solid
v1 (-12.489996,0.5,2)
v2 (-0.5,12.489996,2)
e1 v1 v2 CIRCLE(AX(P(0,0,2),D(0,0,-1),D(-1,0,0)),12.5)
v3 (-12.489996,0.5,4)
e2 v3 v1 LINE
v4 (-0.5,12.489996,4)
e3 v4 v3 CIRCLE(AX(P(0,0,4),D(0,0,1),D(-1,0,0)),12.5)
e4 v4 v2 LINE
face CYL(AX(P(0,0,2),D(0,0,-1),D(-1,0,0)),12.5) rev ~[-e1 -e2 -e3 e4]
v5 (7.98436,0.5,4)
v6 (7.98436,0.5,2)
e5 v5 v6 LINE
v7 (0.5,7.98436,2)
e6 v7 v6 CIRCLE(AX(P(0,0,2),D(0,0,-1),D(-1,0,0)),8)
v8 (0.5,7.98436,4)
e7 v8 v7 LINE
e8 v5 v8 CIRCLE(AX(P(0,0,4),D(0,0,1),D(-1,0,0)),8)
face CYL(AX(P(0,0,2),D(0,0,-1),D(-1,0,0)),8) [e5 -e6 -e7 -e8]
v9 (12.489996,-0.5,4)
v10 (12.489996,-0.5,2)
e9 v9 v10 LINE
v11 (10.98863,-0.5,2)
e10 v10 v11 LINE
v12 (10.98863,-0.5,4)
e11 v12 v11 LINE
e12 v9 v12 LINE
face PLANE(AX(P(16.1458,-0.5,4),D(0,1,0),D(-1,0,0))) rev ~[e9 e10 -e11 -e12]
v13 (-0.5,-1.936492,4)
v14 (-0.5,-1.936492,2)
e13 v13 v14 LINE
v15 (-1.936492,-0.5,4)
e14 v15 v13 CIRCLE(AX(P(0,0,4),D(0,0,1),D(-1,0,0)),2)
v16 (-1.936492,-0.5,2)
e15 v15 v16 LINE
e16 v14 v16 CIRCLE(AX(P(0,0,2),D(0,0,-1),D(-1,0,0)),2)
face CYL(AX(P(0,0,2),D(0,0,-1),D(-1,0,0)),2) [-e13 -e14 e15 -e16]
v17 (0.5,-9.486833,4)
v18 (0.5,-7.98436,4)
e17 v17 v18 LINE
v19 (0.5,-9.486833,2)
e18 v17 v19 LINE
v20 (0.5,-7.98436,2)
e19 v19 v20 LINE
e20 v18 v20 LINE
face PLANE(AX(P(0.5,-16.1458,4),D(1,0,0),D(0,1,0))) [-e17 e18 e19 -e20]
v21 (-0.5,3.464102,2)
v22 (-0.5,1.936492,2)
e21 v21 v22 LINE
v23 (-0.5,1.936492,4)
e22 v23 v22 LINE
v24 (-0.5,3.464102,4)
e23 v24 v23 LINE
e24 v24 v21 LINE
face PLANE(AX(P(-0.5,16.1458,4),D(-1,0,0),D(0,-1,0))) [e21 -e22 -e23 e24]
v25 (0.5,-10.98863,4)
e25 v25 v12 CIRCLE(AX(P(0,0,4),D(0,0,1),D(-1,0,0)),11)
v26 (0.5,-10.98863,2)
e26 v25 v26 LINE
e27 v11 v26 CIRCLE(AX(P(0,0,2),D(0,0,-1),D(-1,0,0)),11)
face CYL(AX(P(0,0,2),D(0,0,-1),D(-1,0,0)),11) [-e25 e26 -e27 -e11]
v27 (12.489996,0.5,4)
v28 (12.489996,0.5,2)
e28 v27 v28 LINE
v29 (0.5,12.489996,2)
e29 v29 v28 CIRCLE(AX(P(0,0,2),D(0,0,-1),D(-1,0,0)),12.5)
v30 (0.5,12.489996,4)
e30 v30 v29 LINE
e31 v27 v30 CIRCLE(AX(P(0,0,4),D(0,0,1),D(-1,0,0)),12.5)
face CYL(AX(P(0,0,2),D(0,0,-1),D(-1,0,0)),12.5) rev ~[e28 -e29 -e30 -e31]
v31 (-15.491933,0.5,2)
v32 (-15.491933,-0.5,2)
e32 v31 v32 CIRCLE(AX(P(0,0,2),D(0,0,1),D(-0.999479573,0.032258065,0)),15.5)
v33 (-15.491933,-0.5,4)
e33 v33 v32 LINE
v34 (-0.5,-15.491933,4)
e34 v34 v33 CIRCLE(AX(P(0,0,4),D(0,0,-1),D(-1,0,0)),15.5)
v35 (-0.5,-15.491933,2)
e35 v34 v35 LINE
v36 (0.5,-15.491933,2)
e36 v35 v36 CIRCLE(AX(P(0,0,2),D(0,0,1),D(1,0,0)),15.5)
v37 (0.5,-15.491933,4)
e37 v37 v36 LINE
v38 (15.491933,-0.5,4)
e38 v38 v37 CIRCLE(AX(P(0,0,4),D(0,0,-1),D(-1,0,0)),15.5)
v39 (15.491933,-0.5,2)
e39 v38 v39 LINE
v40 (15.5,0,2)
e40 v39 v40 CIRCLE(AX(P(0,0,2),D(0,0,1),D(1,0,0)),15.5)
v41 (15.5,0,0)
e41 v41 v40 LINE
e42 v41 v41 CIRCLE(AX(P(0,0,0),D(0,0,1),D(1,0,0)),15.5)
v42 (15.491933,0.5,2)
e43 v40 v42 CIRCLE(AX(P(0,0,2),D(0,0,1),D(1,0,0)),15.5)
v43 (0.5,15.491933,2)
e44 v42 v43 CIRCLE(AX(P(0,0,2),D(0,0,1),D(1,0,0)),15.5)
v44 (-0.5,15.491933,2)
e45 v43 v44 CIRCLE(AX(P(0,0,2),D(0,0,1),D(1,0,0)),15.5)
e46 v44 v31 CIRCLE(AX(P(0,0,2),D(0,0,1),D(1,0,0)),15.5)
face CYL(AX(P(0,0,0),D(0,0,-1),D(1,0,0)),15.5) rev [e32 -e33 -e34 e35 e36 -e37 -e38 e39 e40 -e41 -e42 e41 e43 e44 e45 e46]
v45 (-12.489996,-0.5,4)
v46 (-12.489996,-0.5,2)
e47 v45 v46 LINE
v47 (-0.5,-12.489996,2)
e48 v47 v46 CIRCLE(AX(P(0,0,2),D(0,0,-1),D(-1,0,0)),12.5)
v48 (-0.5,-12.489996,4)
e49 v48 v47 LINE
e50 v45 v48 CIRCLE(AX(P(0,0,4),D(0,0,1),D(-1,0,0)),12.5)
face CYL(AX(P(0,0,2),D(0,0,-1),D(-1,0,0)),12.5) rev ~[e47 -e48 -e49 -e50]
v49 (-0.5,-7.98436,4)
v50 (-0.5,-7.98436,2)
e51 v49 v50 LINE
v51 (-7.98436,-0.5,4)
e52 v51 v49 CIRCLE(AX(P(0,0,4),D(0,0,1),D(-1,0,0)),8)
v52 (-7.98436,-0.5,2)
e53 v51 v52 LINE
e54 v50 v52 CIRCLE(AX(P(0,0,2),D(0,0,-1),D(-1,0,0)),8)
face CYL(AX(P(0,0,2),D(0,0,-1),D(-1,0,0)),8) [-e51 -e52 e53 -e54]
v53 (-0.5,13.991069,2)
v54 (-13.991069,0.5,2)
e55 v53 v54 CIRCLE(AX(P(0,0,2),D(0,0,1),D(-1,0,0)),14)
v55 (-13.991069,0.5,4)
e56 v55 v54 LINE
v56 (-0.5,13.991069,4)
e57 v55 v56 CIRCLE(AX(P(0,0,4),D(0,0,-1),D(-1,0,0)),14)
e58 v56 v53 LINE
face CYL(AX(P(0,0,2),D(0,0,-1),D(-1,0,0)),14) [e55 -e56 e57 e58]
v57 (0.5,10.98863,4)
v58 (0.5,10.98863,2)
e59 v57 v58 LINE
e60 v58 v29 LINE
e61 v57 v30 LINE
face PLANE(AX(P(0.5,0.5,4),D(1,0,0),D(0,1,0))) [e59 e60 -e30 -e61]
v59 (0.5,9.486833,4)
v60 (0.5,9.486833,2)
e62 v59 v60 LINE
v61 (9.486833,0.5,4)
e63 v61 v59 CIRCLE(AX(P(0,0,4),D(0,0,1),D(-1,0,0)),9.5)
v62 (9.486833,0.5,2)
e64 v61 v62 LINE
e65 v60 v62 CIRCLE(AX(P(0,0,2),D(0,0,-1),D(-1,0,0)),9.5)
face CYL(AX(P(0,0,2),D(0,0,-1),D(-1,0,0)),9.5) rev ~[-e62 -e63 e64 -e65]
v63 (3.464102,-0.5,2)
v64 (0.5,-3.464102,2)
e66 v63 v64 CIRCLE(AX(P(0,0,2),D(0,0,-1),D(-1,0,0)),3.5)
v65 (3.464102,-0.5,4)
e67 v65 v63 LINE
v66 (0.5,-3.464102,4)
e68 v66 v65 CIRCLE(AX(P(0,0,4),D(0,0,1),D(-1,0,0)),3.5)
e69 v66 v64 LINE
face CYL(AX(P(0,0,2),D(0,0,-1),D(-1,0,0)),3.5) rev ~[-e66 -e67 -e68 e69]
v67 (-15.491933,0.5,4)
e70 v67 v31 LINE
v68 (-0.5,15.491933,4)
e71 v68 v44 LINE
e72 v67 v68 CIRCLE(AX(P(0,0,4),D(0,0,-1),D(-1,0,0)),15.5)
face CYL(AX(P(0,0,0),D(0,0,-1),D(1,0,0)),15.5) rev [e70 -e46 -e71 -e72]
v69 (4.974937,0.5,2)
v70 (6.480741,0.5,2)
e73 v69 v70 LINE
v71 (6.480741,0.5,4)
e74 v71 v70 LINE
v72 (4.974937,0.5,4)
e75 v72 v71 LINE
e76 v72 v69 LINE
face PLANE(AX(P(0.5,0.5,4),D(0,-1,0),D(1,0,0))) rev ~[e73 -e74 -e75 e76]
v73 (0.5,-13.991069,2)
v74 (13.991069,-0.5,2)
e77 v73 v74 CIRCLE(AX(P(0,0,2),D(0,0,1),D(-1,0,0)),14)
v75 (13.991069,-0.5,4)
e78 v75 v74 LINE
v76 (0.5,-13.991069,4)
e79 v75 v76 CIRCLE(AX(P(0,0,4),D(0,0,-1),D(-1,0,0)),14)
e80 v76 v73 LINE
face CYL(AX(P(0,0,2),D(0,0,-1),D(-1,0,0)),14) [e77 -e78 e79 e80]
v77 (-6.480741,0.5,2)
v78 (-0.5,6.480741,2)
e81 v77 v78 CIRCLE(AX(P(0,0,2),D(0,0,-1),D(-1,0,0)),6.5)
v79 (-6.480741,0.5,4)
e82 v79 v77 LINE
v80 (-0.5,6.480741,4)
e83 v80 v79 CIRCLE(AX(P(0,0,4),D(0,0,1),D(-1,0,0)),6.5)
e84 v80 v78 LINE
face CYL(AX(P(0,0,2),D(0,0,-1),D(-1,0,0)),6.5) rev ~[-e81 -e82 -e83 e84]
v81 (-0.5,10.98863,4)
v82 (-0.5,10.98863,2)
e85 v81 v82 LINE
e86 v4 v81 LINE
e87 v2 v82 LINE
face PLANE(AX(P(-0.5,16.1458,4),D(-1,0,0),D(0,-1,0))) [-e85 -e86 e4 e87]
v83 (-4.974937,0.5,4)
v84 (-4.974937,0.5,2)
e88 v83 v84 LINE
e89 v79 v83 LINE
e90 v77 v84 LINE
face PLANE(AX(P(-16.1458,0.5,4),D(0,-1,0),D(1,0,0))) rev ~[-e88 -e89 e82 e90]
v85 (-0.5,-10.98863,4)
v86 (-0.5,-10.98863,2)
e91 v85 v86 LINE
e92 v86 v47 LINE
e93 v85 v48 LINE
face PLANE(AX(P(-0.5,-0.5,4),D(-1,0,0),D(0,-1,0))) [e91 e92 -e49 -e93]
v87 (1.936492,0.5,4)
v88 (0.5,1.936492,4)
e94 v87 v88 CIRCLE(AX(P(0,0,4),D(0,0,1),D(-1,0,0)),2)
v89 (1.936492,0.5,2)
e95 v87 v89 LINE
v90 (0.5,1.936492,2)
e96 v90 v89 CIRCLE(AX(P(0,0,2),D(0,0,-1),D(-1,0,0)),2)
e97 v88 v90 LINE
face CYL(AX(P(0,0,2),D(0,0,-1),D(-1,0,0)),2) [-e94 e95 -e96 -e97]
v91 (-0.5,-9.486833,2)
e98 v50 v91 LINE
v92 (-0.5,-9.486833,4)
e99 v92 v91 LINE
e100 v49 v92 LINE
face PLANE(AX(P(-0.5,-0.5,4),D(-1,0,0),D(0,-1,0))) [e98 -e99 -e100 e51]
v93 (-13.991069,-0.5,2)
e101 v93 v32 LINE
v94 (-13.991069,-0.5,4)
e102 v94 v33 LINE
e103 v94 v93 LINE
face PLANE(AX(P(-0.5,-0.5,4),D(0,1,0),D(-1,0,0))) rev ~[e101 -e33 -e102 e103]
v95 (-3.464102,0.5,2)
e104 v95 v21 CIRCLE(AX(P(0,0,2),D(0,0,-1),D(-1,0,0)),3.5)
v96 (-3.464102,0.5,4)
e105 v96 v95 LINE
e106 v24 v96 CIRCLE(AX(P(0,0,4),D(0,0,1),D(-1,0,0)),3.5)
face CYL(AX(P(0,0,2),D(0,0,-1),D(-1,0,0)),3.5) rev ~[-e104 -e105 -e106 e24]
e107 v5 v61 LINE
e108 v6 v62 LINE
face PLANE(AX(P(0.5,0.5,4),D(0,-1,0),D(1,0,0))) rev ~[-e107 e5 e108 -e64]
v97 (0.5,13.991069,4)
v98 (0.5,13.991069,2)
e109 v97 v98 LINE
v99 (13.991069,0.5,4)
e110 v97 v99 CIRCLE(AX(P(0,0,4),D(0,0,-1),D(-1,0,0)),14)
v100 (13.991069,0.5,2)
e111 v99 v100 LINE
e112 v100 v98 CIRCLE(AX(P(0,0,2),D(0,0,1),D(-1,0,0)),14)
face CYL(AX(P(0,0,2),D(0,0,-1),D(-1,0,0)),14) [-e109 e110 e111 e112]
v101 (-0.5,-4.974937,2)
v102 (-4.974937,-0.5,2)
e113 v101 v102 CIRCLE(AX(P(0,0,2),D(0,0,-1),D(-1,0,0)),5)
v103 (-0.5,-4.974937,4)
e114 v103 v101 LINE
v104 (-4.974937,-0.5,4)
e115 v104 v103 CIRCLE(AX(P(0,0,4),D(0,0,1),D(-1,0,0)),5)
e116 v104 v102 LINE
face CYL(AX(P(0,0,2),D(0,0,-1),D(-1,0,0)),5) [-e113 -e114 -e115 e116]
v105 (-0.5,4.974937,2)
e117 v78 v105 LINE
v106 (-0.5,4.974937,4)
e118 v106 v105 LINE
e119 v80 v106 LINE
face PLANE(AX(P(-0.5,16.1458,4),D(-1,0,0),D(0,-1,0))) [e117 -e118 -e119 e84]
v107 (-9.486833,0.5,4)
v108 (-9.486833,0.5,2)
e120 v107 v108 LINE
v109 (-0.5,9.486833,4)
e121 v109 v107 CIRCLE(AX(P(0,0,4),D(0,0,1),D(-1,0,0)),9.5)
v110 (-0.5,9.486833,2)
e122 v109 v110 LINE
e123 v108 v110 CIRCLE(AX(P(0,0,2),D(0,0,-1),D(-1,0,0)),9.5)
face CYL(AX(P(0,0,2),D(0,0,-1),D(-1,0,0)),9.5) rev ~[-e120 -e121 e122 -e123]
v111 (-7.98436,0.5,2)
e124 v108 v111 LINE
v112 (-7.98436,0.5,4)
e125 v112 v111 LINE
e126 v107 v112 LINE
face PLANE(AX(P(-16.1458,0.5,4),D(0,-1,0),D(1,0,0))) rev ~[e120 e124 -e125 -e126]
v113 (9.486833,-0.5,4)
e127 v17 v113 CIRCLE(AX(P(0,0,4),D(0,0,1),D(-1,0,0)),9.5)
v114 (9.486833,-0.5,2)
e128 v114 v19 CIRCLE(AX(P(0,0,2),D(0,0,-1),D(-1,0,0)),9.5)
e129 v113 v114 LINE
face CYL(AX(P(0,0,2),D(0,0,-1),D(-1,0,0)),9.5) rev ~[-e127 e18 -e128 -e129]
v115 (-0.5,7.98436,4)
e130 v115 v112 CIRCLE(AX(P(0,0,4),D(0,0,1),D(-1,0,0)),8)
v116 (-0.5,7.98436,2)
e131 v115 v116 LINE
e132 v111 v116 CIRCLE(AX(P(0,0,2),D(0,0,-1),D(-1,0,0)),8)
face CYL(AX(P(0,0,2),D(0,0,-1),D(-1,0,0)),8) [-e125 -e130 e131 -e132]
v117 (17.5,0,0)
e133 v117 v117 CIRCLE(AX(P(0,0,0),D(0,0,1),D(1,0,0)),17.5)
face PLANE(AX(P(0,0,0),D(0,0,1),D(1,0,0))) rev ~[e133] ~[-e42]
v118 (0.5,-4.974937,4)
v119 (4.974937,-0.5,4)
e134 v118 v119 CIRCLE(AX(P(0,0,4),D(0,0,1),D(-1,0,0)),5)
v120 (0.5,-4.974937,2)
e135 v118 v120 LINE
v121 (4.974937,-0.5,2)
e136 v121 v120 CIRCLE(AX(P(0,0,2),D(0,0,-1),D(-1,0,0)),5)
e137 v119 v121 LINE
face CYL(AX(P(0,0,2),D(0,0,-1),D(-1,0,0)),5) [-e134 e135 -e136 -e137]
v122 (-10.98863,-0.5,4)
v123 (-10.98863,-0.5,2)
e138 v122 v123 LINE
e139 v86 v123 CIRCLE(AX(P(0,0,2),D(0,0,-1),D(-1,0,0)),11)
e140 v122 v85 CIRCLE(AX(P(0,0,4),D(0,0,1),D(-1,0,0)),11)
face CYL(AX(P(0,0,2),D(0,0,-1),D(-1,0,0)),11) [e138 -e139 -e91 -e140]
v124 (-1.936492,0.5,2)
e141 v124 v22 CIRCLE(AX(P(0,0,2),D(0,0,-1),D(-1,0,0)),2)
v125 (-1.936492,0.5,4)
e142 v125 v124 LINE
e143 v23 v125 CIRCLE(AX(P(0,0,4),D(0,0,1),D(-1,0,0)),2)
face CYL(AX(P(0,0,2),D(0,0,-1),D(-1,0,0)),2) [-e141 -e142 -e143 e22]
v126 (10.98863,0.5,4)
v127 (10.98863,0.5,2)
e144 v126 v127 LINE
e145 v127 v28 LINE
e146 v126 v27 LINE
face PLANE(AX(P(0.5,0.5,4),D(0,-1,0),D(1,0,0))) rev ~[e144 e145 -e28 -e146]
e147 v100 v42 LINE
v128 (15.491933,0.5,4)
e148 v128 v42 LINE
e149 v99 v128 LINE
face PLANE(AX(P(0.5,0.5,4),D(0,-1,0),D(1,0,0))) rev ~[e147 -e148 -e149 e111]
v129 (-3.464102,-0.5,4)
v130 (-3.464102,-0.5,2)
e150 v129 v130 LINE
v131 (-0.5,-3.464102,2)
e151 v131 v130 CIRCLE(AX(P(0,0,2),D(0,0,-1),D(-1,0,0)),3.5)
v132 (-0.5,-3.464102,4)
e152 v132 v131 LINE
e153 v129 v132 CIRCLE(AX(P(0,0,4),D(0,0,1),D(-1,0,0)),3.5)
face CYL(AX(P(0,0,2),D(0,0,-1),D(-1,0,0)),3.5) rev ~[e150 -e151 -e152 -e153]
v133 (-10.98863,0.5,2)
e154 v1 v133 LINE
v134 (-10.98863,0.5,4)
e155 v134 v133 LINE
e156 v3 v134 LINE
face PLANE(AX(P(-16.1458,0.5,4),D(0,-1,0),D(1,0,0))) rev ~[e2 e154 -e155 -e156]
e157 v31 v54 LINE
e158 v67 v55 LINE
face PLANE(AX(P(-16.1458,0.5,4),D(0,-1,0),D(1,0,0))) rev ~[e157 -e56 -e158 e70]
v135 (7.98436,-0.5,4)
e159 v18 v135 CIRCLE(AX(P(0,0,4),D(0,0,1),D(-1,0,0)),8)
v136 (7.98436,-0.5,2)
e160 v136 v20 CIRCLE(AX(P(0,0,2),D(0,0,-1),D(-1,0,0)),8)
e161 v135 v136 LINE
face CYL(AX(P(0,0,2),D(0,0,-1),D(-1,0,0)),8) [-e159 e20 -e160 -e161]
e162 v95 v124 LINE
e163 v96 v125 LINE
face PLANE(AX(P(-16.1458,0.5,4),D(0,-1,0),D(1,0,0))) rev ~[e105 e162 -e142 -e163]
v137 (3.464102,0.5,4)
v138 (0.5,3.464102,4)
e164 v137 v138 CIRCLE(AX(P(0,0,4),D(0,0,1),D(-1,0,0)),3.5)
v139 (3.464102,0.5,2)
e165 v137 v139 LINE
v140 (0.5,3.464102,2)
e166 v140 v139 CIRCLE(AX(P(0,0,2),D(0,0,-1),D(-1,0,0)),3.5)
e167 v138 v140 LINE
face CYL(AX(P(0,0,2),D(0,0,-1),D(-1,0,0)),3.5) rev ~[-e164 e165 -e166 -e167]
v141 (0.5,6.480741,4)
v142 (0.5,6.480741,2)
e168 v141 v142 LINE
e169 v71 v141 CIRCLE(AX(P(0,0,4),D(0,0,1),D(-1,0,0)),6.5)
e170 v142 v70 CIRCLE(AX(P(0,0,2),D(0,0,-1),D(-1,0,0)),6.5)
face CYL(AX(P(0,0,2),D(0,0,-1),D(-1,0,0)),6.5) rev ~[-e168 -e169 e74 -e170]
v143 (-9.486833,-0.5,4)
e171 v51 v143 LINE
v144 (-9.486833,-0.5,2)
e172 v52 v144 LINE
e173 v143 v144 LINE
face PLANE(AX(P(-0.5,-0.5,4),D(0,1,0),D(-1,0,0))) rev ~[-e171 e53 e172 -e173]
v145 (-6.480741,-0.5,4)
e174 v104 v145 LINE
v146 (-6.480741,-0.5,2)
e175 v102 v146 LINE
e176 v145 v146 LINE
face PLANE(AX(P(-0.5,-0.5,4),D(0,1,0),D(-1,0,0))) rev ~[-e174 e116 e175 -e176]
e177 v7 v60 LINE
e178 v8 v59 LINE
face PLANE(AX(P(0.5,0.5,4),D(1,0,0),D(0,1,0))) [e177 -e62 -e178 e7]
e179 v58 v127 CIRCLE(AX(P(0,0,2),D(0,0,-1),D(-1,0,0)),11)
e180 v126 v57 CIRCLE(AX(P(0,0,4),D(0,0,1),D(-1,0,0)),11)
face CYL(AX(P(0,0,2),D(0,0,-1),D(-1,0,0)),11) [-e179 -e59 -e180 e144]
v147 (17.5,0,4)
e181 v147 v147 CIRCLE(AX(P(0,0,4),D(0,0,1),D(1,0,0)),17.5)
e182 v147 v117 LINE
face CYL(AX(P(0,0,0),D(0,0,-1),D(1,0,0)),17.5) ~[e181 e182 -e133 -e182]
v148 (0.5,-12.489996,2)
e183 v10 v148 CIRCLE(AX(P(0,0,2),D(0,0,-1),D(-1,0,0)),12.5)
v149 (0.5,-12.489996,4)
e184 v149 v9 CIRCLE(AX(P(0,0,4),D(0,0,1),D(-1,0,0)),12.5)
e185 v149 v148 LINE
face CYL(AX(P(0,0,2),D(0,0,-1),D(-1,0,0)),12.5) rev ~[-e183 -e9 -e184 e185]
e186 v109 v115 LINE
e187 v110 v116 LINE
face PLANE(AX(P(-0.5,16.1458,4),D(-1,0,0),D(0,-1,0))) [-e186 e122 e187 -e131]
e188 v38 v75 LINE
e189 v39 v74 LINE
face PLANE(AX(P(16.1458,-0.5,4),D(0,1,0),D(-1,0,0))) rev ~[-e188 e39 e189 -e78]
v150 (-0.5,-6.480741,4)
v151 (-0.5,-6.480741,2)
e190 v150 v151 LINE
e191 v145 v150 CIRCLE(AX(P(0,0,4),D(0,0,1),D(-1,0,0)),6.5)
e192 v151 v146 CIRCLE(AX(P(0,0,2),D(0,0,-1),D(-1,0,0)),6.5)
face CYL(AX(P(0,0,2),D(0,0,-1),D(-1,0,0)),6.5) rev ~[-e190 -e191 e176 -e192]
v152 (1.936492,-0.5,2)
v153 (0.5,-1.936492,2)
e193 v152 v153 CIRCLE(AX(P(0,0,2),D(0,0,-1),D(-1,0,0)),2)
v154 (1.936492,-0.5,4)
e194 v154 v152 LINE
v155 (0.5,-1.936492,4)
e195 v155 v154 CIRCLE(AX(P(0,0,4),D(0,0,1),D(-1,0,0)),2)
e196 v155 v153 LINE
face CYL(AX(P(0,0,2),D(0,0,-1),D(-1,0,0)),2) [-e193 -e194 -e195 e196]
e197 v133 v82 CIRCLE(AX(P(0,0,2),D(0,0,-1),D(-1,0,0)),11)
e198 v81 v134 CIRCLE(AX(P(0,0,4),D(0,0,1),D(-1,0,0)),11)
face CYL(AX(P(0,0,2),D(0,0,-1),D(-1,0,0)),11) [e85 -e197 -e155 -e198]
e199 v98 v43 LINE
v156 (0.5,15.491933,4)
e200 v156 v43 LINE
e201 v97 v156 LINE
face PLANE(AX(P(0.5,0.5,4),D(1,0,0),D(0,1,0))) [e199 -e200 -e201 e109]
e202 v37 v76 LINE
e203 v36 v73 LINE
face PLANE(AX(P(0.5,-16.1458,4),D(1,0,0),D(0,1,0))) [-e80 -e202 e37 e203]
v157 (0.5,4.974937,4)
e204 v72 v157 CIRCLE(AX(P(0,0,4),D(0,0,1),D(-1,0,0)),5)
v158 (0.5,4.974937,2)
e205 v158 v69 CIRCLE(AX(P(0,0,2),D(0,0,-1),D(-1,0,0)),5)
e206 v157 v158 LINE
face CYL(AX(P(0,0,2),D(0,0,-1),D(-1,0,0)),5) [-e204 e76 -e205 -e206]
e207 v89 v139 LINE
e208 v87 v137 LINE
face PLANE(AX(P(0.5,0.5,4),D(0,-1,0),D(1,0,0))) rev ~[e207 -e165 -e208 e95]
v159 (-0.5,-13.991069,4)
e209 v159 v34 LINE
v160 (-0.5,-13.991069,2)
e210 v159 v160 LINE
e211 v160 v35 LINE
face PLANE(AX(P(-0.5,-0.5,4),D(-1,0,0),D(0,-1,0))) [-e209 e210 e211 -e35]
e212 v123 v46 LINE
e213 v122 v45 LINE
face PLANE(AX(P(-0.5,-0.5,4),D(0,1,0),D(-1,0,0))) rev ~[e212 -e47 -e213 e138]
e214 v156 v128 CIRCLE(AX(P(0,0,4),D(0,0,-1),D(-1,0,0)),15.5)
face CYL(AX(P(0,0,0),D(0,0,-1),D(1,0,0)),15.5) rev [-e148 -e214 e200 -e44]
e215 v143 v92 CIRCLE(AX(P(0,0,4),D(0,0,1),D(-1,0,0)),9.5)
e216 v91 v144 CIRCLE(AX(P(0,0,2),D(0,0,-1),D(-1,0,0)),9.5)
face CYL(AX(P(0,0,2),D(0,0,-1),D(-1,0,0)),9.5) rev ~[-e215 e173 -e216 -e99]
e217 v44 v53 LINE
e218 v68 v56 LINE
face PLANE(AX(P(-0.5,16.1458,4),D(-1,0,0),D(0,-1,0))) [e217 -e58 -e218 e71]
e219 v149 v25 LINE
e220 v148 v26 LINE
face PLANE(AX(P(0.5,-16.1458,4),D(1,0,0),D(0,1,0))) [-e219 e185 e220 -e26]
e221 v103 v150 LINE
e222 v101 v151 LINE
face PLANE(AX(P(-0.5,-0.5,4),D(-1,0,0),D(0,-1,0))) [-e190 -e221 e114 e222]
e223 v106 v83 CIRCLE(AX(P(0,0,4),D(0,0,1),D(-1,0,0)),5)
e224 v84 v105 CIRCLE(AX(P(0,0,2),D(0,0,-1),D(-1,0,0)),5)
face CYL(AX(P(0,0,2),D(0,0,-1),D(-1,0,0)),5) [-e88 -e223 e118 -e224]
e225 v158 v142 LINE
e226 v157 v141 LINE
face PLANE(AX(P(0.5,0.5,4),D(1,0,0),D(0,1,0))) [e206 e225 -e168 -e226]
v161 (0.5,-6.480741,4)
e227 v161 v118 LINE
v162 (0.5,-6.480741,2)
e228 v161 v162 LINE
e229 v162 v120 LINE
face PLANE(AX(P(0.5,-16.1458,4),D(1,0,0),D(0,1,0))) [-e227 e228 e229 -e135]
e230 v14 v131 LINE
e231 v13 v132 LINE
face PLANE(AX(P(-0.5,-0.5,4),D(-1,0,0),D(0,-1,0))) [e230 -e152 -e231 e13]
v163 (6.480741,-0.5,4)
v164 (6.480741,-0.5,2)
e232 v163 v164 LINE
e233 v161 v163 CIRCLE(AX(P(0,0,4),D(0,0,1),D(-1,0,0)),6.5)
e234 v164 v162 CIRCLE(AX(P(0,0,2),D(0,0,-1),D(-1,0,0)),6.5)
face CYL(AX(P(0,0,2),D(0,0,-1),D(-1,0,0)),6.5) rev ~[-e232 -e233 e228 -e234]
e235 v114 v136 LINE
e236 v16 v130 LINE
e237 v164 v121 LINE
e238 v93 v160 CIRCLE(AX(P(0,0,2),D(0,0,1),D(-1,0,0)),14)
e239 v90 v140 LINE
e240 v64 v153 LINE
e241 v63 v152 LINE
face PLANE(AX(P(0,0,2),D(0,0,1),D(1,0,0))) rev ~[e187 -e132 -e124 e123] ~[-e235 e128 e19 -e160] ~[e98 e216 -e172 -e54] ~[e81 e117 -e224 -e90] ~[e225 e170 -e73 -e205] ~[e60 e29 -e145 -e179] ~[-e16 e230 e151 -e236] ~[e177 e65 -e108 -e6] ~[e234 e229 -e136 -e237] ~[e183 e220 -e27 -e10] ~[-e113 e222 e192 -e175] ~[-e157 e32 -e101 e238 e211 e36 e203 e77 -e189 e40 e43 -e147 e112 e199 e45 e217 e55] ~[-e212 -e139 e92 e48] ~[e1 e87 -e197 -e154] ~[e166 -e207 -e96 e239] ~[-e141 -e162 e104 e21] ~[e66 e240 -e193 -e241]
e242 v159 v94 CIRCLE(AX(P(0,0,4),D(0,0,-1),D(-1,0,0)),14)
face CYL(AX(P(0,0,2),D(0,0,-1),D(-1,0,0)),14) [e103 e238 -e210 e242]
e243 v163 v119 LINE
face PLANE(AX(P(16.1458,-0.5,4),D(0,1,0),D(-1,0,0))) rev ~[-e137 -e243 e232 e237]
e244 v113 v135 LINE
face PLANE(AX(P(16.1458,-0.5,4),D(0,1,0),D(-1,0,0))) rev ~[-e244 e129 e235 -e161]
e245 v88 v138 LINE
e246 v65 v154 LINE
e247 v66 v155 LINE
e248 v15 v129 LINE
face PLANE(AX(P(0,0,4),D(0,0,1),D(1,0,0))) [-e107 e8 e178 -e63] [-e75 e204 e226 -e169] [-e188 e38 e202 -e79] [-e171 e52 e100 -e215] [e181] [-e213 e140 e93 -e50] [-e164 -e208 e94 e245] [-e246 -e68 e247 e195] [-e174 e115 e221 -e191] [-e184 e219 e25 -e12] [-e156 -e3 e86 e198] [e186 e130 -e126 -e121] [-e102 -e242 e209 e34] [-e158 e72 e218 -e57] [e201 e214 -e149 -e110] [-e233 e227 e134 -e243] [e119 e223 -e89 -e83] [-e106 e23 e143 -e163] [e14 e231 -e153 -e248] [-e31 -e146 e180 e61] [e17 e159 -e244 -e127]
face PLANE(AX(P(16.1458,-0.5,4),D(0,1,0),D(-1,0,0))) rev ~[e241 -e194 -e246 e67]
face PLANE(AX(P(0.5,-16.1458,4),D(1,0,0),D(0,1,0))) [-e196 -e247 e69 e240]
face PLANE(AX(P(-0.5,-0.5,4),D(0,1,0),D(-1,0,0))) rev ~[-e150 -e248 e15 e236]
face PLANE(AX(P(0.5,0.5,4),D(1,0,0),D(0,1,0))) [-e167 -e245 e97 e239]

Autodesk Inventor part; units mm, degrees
ref_plane "YZ Plane" through (0, 0, 0) normal (1, 0, 0) x (0, 1, 0)
ref_plane "XZ Plane" through (0, 0, 0) normal (0, 1, 0) x (-1, 0, 0)
ref_plane "XY Plane" through (0, 0, 0) normal (0, 0, 1) x (1, 0, 0)
sketch "Boceto1" plane through (0, 0, 0) normal (0, 0, 1) x (1, 0, 0)
  circle A0 centre (0, 0) radius 17.5
  circle A1 centre (0, 0) radius 15.5
  dimension "d0" = 35
  dimension "d1" = 31
extrude "Extrusión1" add sketch "Boceto1" along normal blind 2
sketch "Boceto2" plane through (0, 0, 2) normal (0, 0, 1) x (1, 0, 0)
  circle A0 centre (0, 0) radius 17.5 projected
extrude "Extrusión2" add sketch "Boceto2" along normal blind 2
sketch "Boceto3" plane through (0, 0, 2) normal (0, 0, -1) x (-1, 0, 0)
  circle A0 centre (0, 0) radius 15.5 projected
  circle A1 centre (0, 0) radius 15.5 projected
  circle A2 centre (0, 0) radius 14
  circle A3 centre (0, 0) radius 12.5
  circle A4 centre (0, 0) radius 11
  circle A5 centre (0, 0) radius 9.5
  circle A6 centre (0, 0) radius 8
  circle A7 centre (0, 0) radius 6.5
  circle A8 centre (0, 0) radius 5
  circle A9 centre (0, 0) radius 3.5
  circle A10 centre (0, 0) radius 2
  line L0 (-0.5014, 1.9361) -> (-0.5014, 2)
  line L1 (-0.5014, 1.9361) -> (-0.5014, 15.5)
  line L2 (-0.5014, 1.9361) -> (13.0625, 1.9361) construction
  line L3 (0.5019, 1.9361) -> (0.5019, 15.5)
  line L4 (0.5019, 1.9361) -> (0.5019, -15.5)
  line L5 (-0.5014, 1.9361) -> (-0.5014, -15.5)
  line L6 (1.9361, 0.5016) -> (15.5, 0.5016)
  line L7 (1.9361, -0.5011) -> (15.5, -0.5011)
  line L8 (1.9361, -0.5011) -> (-15.5, -0.5011)
  line L9 (1.9361, 0.5016) -> (-15.5, 0.5016)
  dimension "d7" = 28
  dimension "d8" = 25
  dimension "d9" = 22
  dimension "d10" = 19
  dimension "d11" = 16
  dimension "d12" = 13
  dimension "d13" = 10
  dimension "d14" = 7
  dimension "d15" = 4
  dimension "d16" = 90
extrude "Extrusión3" cut sketch "Boceto3" against normal blind 2 contours A0 L7 A2 L6 | L6 A2 L3 A0 | A0 L4 A2 L7 | L3 A2 L1 A0 | A0 L5 A2 L4 | L1 A2 L9 A0 | L6 A4 L3 A3 | A3 L7 A4 L6 | A0 L8 A2 L5 | A3 L4 A4 L7 | L9 A2 L8 A0 | L3 A4 L1 A3 | A3 L5 A4 L4 | L1 A4 L9 A3 | L6 A6 L3 A5 | A5 L7 A6 L6 | A3 L8 A4 L5 | A5 L4 A6 L7 | L9 A4 L8 A3 | L3 A6 L1 A5 | A5 L5 A6 L4 | L1 A6 L9 A5 | L6 A8 L3 A7 | A7 L7 A8 L6 | A5 L8 A6 L5 | A7 L4 A8 L7 | L9 A6 L8 A5 | L3 A8 L1 A7 | A7 L5 A8 L4 | L1 A8 L9 A7 | L6 A10 L3 A9 | A9 L7 A10 L6 | A7 L8 A8 L5 | A9 L4 A10 L7 | L9 A8 L8 A7 | L3 A10 L0 L1 A9 | A9 L5 A10 L4 | L1 L0 A10 L9 A9 | A9 L8 A10 L5 | L9 A10 L8 A9
sketch "Boceto4" plane through (0, 0, 4) normal (0, 0, 1) x (1, 0, 0)
  line L0 (-16.1458, 0.5) -> (16.1458, 0.5)
  line L1 (16.1458, 0.5) -> (16.1458, -0.5)
  line L2 (16.1458, -0.5) -> (-16.1458, -0.5)
  line L3 (-16.1458, -0.5) -> (-16.1458, 0.5)
  line L4 (-16.1458, 0.5) -> (16.1458, -0.5) construction
  line L5 (16.1458, 0.5) -> (-16.1458, -0.5) construction
  line L6 (-0.5, -16.1458) -> (0.5, -16.1458)
  line L7 (0.5, -16.1458) -> (0.5, 16.1458)
  line L8 (0.5, 16.1458) -> (-0.5, 16.1458)
  line L9 (-0.5, 16.1458) -> (-0.5, -16.1458)
  line L10 (-0.5, -16.1458) -> (0.5, 16.1458) construction
  line L11 (0.5, -16.1458) -> (-0.5, 16.1458) construction
  point P0 (0, 0)
  point P1 (0, 0)
  dimension "d19" = 1
  dimension "d20" = 1
extrude "Extrusión4" add sketch "Boceto4" against normal blind 2
equation "\"Radio_pliegue\" = Grosor"
equation "\"Anchura_desahogo_plegado\" = Grosor"
equation "\"Profundidad_desahogo_plegado\" = 0.5 * Grosor"
equation "\"Tamaño_destalonado\" = 4 * Grosor"
equation "\"Remanente_mínimo\" = 2 * Grosor"
equation "\"Radiodetransición\" = Radio_pliegue"
equation "\"Tamaño_de_radio_de_Jacobi\" = Radio_pliegue"
equation "\"TamañoSeparación\" = Grosor"
equation "\"Grosor\" = 0.5"
properties part number "Lattice 2"
